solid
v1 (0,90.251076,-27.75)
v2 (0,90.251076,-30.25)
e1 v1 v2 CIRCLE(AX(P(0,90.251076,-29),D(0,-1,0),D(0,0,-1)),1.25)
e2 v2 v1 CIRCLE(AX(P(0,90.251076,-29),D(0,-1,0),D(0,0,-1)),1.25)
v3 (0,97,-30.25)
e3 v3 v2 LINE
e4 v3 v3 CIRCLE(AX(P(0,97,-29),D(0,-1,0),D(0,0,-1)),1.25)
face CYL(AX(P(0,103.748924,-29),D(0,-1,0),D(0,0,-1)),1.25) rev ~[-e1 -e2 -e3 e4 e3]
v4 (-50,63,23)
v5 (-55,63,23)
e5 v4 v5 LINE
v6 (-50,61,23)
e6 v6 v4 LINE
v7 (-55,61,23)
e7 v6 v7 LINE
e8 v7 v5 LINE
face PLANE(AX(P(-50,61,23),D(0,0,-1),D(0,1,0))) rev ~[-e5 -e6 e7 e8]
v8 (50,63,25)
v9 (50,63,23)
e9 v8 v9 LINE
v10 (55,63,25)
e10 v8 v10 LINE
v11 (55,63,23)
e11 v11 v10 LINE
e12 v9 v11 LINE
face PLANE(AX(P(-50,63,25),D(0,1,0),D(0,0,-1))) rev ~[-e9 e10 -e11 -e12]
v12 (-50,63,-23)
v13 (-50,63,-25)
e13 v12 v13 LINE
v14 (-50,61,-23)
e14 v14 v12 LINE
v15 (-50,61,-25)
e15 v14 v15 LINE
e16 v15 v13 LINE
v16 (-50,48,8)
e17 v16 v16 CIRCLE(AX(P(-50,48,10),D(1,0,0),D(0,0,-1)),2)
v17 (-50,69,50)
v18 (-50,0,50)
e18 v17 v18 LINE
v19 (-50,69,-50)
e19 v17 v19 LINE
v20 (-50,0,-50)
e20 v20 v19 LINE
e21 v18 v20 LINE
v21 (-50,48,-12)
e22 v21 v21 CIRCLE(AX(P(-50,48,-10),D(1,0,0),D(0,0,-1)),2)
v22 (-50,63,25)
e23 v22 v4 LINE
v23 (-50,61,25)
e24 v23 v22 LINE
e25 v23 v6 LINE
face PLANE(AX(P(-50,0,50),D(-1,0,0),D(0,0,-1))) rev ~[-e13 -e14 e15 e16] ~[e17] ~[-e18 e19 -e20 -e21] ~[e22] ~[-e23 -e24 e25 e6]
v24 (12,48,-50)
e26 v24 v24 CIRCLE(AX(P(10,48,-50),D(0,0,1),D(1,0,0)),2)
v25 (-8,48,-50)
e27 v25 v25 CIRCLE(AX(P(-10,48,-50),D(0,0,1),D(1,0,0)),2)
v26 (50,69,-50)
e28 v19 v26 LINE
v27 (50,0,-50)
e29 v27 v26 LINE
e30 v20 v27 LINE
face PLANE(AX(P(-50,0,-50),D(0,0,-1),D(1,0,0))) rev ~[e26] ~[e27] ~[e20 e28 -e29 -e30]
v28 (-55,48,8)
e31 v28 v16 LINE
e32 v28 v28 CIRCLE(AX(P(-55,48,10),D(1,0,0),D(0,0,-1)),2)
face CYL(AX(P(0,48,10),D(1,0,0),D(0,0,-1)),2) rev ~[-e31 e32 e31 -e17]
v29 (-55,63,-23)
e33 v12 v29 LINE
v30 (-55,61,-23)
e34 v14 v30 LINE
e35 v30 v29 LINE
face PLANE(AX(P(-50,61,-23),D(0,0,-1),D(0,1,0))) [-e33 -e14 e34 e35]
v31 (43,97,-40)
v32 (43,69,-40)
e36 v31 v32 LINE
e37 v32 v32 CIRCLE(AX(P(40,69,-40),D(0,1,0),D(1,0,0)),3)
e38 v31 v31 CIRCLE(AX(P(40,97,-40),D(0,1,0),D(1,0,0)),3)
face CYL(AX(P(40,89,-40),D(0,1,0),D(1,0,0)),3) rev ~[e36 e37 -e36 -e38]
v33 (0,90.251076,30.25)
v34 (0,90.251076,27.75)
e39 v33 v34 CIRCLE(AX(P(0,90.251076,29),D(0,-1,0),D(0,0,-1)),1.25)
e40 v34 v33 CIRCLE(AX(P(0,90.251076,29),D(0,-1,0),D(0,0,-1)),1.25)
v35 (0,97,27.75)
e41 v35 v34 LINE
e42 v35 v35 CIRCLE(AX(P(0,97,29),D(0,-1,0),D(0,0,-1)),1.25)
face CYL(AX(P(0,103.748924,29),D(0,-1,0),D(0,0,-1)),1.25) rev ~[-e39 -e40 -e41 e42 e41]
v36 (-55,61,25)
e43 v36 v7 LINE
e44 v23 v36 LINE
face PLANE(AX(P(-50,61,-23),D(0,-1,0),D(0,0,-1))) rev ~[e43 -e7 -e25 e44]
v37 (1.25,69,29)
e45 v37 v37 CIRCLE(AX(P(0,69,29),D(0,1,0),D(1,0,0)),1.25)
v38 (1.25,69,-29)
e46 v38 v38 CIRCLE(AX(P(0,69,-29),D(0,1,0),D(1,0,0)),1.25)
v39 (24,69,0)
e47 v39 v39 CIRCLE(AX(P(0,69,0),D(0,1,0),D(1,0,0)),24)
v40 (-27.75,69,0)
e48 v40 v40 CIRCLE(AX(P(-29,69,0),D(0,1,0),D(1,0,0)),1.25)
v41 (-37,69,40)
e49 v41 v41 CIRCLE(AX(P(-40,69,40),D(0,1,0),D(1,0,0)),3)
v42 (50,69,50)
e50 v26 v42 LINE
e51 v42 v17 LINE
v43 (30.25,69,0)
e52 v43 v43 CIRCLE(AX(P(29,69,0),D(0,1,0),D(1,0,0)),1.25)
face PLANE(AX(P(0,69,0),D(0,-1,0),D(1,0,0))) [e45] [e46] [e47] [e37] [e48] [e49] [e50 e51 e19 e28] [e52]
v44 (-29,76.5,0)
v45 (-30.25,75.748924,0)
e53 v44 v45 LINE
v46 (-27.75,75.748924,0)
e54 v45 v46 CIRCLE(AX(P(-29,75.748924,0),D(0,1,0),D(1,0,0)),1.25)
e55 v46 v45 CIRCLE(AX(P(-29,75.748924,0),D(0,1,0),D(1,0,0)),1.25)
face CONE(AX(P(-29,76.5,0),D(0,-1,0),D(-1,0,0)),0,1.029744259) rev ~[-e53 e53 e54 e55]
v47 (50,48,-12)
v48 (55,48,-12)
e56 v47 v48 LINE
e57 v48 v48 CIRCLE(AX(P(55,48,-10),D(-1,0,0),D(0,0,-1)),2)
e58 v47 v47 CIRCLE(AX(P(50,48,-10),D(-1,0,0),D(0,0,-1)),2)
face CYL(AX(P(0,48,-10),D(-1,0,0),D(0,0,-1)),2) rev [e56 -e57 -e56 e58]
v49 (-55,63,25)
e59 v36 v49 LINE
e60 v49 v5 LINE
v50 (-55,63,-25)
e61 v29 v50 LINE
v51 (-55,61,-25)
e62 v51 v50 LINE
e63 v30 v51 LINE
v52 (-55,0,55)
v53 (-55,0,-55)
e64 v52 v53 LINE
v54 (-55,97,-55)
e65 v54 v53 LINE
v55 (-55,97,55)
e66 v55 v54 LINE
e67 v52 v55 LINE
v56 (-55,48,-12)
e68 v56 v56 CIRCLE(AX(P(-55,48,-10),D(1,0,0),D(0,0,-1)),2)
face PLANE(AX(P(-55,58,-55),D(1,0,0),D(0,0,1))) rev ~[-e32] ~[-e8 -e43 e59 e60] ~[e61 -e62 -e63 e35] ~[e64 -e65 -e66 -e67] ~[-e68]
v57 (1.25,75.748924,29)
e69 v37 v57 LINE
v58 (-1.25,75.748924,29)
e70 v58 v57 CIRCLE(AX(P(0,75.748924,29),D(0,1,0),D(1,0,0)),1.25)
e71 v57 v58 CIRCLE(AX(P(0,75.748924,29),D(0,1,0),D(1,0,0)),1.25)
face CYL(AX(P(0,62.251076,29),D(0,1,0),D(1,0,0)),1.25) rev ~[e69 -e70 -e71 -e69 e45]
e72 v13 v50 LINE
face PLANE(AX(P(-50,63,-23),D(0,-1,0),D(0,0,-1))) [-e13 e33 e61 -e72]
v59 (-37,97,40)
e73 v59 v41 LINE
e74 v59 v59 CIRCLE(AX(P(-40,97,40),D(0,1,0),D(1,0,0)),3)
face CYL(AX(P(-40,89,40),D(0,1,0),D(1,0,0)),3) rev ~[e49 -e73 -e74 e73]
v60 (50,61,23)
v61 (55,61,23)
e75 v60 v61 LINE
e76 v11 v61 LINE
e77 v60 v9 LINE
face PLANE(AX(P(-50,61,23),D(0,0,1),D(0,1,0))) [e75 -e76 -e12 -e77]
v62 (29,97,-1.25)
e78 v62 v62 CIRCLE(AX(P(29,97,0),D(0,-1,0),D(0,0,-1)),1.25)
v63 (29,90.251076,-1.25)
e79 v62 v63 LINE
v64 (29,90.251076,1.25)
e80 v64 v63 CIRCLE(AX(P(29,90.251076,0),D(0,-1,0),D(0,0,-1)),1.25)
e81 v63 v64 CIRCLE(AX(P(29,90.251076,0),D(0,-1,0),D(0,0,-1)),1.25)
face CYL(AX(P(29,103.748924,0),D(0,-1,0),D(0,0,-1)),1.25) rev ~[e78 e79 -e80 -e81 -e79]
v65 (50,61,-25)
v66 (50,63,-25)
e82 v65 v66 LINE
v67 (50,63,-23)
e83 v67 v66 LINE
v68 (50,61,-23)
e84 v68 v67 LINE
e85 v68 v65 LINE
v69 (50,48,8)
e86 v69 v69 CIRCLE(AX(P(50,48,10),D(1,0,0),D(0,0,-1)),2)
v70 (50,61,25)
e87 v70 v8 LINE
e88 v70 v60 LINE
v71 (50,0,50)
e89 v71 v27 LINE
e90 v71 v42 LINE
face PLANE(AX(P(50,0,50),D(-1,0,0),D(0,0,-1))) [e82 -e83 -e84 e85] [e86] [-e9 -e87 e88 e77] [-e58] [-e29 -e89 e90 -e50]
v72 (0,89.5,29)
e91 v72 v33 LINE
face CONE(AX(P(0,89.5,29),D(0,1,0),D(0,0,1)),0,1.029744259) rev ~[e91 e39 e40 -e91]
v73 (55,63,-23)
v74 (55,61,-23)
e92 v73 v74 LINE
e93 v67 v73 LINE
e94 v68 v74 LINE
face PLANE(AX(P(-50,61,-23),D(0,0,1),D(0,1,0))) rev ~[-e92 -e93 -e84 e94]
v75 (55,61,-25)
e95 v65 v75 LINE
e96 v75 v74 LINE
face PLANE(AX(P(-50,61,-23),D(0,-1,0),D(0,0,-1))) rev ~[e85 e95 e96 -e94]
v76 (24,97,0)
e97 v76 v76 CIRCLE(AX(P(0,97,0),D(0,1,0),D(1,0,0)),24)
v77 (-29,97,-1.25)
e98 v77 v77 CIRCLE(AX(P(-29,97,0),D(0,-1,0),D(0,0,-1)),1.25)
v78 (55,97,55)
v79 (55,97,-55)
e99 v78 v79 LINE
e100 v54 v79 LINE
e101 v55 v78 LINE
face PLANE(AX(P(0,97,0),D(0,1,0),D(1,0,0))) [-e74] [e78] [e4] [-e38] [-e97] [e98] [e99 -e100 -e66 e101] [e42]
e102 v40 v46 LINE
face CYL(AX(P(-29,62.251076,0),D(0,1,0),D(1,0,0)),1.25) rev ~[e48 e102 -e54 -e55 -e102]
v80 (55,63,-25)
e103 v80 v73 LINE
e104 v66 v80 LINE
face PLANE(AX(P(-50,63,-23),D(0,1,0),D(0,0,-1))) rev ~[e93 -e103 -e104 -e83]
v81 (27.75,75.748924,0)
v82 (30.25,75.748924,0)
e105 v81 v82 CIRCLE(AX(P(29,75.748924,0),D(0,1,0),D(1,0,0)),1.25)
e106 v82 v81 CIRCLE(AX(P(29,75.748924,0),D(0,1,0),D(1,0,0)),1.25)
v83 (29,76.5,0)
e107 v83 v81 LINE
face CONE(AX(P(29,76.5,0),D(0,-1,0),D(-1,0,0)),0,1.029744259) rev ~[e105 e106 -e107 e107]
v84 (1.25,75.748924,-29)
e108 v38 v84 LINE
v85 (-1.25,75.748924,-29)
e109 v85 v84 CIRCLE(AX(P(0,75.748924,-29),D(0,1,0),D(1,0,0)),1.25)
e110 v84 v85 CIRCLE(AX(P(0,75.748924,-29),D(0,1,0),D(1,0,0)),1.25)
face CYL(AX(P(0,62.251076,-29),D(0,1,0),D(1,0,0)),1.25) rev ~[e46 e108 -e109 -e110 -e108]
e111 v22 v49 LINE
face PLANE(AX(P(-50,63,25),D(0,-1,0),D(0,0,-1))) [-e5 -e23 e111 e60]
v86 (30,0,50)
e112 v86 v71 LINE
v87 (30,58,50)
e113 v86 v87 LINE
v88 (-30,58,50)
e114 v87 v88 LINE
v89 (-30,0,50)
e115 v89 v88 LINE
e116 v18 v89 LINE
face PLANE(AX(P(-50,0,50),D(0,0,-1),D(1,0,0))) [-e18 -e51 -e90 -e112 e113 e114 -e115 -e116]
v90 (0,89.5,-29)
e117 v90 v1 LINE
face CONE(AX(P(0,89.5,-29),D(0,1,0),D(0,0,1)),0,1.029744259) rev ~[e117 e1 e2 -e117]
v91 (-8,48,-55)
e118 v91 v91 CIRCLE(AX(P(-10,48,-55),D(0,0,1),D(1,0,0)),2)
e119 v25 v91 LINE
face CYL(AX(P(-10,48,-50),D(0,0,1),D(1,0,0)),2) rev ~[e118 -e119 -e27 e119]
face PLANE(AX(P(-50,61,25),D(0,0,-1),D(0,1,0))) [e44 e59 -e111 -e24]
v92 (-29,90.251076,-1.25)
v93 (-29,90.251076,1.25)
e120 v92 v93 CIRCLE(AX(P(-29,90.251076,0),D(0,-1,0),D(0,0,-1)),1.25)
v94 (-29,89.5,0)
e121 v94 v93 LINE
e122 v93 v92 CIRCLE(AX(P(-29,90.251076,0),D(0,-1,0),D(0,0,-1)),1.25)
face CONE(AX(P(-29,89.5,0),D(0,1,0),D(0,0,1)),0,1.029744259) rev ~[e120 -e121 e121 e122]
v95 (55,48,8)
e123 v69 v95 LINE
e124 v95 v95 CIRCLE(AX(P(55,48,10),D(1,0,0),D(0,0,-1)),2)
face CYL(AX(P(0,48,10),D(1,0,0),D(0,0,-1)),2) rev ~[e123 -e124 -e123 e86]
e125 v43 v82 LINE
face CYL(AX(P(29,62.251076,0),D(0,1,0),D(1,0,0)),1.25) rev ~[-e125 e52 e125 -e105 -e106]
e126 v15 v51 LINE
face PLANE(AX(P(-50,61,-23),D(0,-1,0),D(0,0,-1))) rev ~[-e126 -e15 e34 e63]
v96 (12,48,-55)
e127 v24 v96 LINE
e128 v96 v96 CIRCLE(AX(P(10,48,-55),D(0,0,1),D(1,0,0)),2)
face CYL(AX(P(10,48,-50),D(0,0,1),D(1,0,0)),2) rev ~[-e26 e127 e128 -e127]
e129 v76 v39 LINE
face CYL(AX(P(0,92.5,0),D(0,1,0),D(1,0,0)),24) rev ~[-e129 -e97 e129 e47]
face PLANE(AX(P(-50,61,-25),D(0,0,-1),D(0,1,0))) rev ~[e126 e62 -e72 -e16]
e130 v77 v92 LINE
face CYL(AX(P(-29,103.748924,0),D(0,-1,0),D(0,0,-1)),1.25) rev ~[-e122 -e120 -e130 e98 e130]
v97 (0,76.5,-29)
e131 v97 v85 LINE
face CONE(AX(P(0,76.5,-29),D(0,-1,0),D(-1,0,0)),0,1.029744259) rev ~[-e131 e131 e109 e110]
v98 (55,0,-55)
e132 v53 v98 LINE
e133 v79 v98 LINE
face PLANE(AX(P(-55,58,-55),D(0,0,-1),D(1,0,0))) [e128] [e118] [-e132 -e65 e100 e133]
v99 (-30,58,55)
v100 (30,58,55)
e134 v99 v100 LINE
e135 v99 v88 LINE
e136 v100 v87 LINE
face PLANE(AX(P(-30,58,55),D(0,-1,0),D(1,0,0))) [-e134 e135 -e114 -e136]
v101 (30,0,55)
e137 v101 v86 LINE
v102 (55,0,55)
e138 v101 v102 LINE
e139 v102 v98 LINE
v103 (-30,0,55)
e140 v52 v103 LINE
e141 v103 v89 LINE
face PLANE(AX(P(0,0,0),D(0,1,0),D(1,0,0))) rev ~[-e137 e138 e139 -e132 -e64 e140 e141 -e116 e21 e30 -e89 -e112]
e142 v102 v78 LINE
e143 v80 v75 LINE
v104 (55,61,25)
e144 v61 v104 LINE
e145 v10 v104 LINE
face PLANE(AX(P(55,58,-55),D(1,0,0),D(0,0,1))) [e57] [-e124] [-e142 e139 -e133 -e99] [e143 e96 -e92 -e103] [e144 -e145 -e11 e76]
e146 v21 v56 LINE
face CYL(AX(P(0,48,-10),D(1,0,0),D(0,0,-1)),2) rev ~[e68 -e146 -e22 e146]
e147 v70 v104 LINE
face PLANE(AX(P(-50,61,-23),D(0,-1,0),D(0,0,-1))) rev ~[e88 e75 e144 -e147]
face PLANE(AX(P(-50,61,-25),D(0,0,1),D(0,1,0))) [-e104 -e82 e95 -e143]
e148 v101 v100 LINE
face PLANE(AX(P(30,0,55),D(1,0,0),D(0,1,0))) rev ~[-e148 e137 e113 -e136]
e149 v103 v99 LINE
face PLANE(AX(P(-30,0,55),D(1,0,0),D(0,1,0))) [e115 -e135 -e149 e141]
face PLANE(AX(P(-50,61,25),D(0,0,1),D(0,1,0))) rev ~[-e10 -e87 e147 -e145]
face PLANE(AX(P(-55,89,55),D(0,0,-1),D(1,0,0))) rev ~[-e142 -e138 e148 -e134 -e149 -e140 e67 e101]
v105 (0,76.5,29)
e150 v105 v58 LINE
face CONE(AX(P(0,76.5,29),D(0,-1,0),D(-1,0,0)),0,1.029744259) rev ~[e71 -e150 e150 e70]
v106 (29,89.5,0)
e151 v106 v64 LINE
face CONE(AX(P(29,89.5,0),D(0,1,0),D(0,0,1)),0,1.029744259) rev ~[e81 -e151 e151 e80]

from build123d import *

# Parameters (mm, degrees)
SKETCH2_W                = 110
SKETCH2_H                = 110
SKETCH2_W_2              = 100
SKETCH2_H_2              = 100
BOSS_EXTRUDE1_DEPTH      = 89
SKETCH3_W                = 110
SKETCH3_H                = 110
BOSS_EXTRUDE2_DEPTH      = 8
CUT_EXTRUDE1_REACH       = 112
SKETCH6_W                = 60
SKETCH6_H                = 58
SKETCH9_W                = 110
SKETCH9_H                = 110
BOSS_EXTRUDE3_DEPTH      = 3
CUT_EXTRUDE2_REACH       = 63
SKETCH10_R               = 7.5
BOSS_EXTRUDE4_DEPTH      = 1.5
BOSS_EXTRUDE5_DEPTH      = 1.5
SKETCH14_R               = 3
CUT_EXTRUDE3_DEPTH       = 73
SKETCH15_W               = 2
SKETCH15_H               = 2
CUT_EXTRUDE4_DEPTH       = 113
CUT_EXTRUDE4_DEPTH_BACK  = 13
CUT_EXTRUDE5_REACH       = 63
SKETCH16_R               = 2.5
SKETCH17_R               = 14
SKETCH17_R_2             = 11
BOSS_EXTRUDE6_DEPTH      = 7
CUT_EXTRUDE8_REACH       = 7
SKETCH20_R               = 2
SKETCH18_R               = 2
CUT_EXTRUDE6_DEPTH       = 73.5
CUT_EXTRUDE7_REACH       = 63
SKETCH19_R               = 2
SKETCH21_R               = 24
SKETCH21_R_2             = 21
BOSS_EXTRUDE7_DEPTH      = 5
CUT_EXTRUDE9_REACH       = 46
SKETCH23_W               = 100
SKETCH23_H               = 100
SKETCH24_W               = 100
SKETCH24_H               = 100
BOSS_EXTRUDE8_DEPTH      = 20
SKETCH25_R               = 24
CUT_EXTRUDE10_DEPTH      = 10
CUT_EXTRUDE10_DEPTH_BACK = 26
SKETCH26_R               = 3
CUT_EXTRUDE11_DEPTH      = 26
M3_TAPPED_HOLE1_D        = 2.5
M3_TAPPED_HOLE1_DEPTH    = 6.748924226
M3_TAPPED_HOLE1_TIP      = 0.751075774
M3_TAPPED_HOLE2_D        = 2.5
M3_TAPPED_HOLE2_DEPTH    = 6.748924226
M3_TAPPED_HOLE2_TIP      = 0.751075774


with BuildPart() as part:
    # Sketch2 → Boss-Extrude1 (new body)
    with BuildSketch(Plane(origin=(0, 0, 0), x_dir=(1, 0, 0), z_dir=(0, 1, 0))):
        Rectangle(SKETCH2_W, SKETCH2_H)
        Rectangle(SKETCH2_W_2, SKETCH2_H_2, mode=Mode.SUBTRACT)
    extrude(amount=BOSS_EXTRUDE1_DEPTH)

    # Sketch3 → Boss-Extrude2 (add)
    with BuildSketch(Plane(origin=(0, 89, 0), x_dir=(1, 0, 0), z_dir=(0, 1, 0))):
        Rectangle(SKETCH3_W, SKETCH3_H)
    extrude(amount=BOSS_EXTRUDE2_DEPTH)

    # Sketch6 → Cut-Extrude1 (cut, up to next)
    with BuildSketch(Plane.XY.offset(55), mode=Mode.PRIVATE) as cut_extrude1_sk1:
        with Locations((0, 29)):
            Rectangle(SKETCH6_W, SKETCH6_H)
    cut_extrude1_tool1 = extrude(cut_extrude1_sk1.sketch, amount=-CUT_EXTRUDE1_REACH, mode=Mode.PRIVATE) & part.part
    add(cut_extrude1_tool1.solids().sort_by_distance((0, 29, 55))[0], mode=Mode.SUBTRACT)

    # Sketch8 → Cut-Revolve1 (revolve, cut)
    with BuildSketch(Plane.XY):
        Polygon((0, 97), (-21, 97), (-21, 92.5), (-16.2, 92.5), (-16.2, 88.5), (0, 88.5), align=None)
    revolve(axis=Axis((0, 0, 0), (0, 1, 0)), mode=Mode.SUBTRACT)

    # Sketch9 → Boss-Extrude3 (add)
    with BuildSketch(Plane.XZ.offset(-58)):
        Rectangle(SKETCH9_W, SKETCH9_H)
    extrude(amount=-BOSS_EXTRUDE3_DEPTH)

    # Sketch10 → Cut-Extrude2 (cut, up to next)
    with BuildSketch(Plane(origin=(0, 61, 0), x_dir=(1, 0, 0), z_dir=(0, 1, 0)), mode=Mode.PRIVATE) as cut_extrude2_sk1:
        Circle(SKETCH10_R)
    cut_extrude2_tool1 = extrude(cut_extrude2_sk1.sketch, amount=-CUT_EXTRUDE2_REACH, mode=Mode.PRIVATE) & part.part
    add(cut_extrude2_tool1.solids().sort_by_distance((0, 61, 0))[0], mode=Mode.SUBTRACT)

    # Sketch11 → Boss-Extrude4 (add, symmetric)
    with BuildSketch(Plane.XY):
        Polygon((-50, 89), (-35, 89), (-50, 69), align=None)
    boss_extrude4 = extrude(amount=BOSS_EXTRUDE4_DEPTH, both=True)

    # Mirror1: Boss-Extrude4 across plane
    add(boss_extrude4.mirror(Plane(origin=(0, 0, 0), x_dir=(0, 0, 1), z_dir=(1, 0, 0))))

    # Sketch12 → Boss-Extrude5 (add, symmetric)
    with BuildSketch(Plane(origin=(0, 0, 0), x_dir=(0, 0, -1), z_dir=(1, 0, 0))):
        Polygon((-35, 89), (-50, 89), (-50, 69), align=None)
    boss_extrude5 = extrude(amount=BOSS_EXTRUDE5_DEPTH, both=True)

    # Mirror2: Boss-Extrude5 across plane
    add(boss_extrude5.mirror(Plane.XY))

    # Sketch14 → Cut-Extrude3 (cut)
    with BuildSketch(Plane(origin=(0, 97, 0), x_dir=(1, 0, 0), z_dir=(0, 1, 0))):
        with Locations((40, 40)):
            Circle(SKETCH14_R)
        with Locations((-40, -40)):
            Circle(SKETCH14_R)
    extrude(amount=-CUT_EXTRUDE3_DEPTH, mode=Mode.SUBTRACT)

    # Sketch15 → Cut-Extrude4 (cut, two sides)
    with BuildSketch(Plane(origin=(-50, 0, 0), x_dir=(0, 0, -1), z_dir=(1, 0, 0))) as cut_extrude4_sk:
        with Locations((-24, 62)):
            Rectangle(SKETCH15_W, SKETCH15_H)
        with Locations((24, 62)):
            Rectangle(SKETCH15_W, SKETCH15_H)
    extrude(amount=CUT_EXTRUDE4_DEPTH, mode=Mode.SUBTRACT)
    extrude(cut_extrude4_sk.sketch, amount=-CUT_EXTRUDE4_DEPTH_BACK, mode=Mode.SUBTRACT)

    # Sketch16 → Cut-Extrude5 (cut, up to next)
    with BuildSketch(Plane(origin=(0, 61, 0), x_dir=(1, 0, 0), z_dir=(0, 1, 0)), mode=Mode.PRIVATE) as cut_extrude5_sk1:
        with Locations((-13.5, 13.5)):
            Circle(SKETCH16_R)
    cut_extrude5_tool1 = extrude(cut_extrude5_sk1.sketch, amount=-CUT_EXTRUDE5_REACH, mode=Mode.PRIVATE) & part.part
    add(cut_extrude5_tool1.solids().sort_by_distance((-13.5, 61, -13.5))[0], mode=Mode.SUBTRACT)
    # Sketch16 → Cut-Extrude5 (cut, up to next)
    with BuildSketch(Plane(origin=(0, 61, 0), x_dir=(1, 0, 0), z_dir=(0, 1, 0)), mode=Mode.PRIVATE) as cut_extrude5_sk2:
        with Locations((-13.5, -36)):
            Circle(SKETCH16_R)
    cut_extrude5_tool2 = extrude(cut_extrude5_sk2.sketch, amount=-CUT_EXTRUDE5_REACH, mode=Mode.PRIVATE) & part.part
    add(cut_extrude5_tool2.solids().sort_by_distance((-13.5, 61, 36))[0], mode=Mode.SUBTRACT)
    # Sketch16 → Cut-Extrude5 (cut, up to next)
    with BuildSketch(Plane(origin=(0, 61, 0), x_dir=(1, 0, 0), z_dir=(0, 1, 0)), mode=Mode.PRIVATE) as cut_extrude5_sk3:
        with Locations((13.5, -36)):
            Circle(SKETCH16_R)
    cut_extrude5_tool3 = extrude(cut_extrude5_sk3.sketch, amount=-CUT_EXTRUDE5_REACH, mode=Mode.PRIVATE) & part.part
    add(cut_extrude5_tool3.solids().sort_by_distance((13.5, 61, 36))[0], mode=Mode.SUBTRACT)
    # Sketch16 → Cut-Extrude5 (cut, up to next)
    with BuildSketch(Plane(origin=(0, 61, 0), x_dir=(1, 0, 0), z_dir=(0, 1, 0)), mode=Mode.PRIVATE) as cut_extrude5_sk4:
        with Locations((13.5, 13.5)):
            Circle(SKETCH16_R)
    cut_extrude5_tool4 = extrude(cut_extrude5_sk4.sketch, amount=-CUT_EXTRUDE5_REACH, mode=Mode.PRIVATE) & part.part
    add(cut_extrude5_tool4.solids().sort_by_distance((13.5, 61, -13.5))[0], mode=Mode.SUBTRACT)

    # Sketch17 → Boss-Extrude6 (add)
    with BuildSketch(Plane(origin=(0, 61, 0), x_dir=(1, 0, 0), z_dir=(0, 1, 0))):
        Circle(SKETCH17_R)
        Circle(SKETCH17_R_2, mode=Mode.SUBTRACT)
    extrude(amount=BOSS_EXTRUDE6_DEPTH)

    # Sketch20 → Cut-Extrude8 (cut, up to next)
    with BuildSketch(Plane.XY.offset(-50), mode=Mode.PRIVATE) as cut_extrude8_sk1:
        with Locations((10, 48)):
            Circle(SKETCH20_R)
    cut_extrude8_tool1 = extrude(cut_extrude8_sk1.sketch, amount=-CUT_EXTRUDE8_REACH, mode=Mode.PRIVATE) & part.part
    add(cut_extrude8_tool1.solids().sort_by_distance((10, 48, -50))[0], mode=Mode.SUBTRACT)
    # Sketch20 → Cut-Extrude8 (cut, up to next)
    with BuildSketch(Plane.XY.offset(-50), mode=Mode.PRIVATE) as cut_extrude8_sk2:
        with Locations((-10, 48)):
            Circle(SKETCH20_R)
    cut_extrude8_tool2 = extrude(cut_extrude8_sk2.sketch, amount=-CUT_EXTRUDE8_REACH, mode=Mode.PRIVATE) & part.part
    add(cut_extrude8_tool2.solids().sort_by_distance((-10, 48, -50))[0], mode=Mode.SUBTRACT)

    # Sketch18 → Cut-Extrude6 (cut, symmetric)
    with BuildSketch(Plane(origin=(0, 0, 0), x_dir=(0, 0, -1), z_dir=(1, 0, 0))):
        with Locations((10, 48)):
            Circle(SKETCH18_R)
        with Locations((-10, 48)):
            Circle(SKETCH18_R)
    extrude(amount=CUT_EXTRUDE6_DEPTH, both=True, mode=Mode.SUBTRACT)

    # Sketch19 → Cut-Extrude7 (cut, up to next)
    with BuildSketch(Plane(origin=(0, 61, 0), x_dir=(1, 0, 0), z_dir=(0, 1, 0)), mode=Mode.PRIVATE) as cut_extrude7_sk1:
        with Locations((40, 10)):
            Circle(SKETCH19_R)
    cut_extrude7_tool1 = extrude(cut_extrude7_sk1.sketch, amount=-CUT_EXTRUDE7_REACH, mode=Mode.PRIVATE) & part.part
    add(cut_extrude7_tool1.solids().sort_by_distance((40, 61, -10))[0], mode=Mode.SUBTRACT)
    # Sketch19 → Cut-Extrude7 (cut, up to next)
    with BuildSketch(Plane(origin=(0, 61, 0), x_dir=(1, 0, 0), z_dir=(0, 1, 0)), mode=Mode.PRIVATE) as cut_extrude7_sk2:
        with Locations((40, -10)):
            Circle(SKETCH19_R)
    cut_extrude7_tool2 = extrude(cut_extrude7_sk2.sketch, amount=-CUT_EXTRUDE7_REACH, mode=Mode.PRIVATE) & part.part
    add(cut_extrude7_tool2.solids().sort_by_distance((40, 61, 10))[0], mode=Mode.SUBTRACT)
    # Sketch19 → Cut-Extrude7 (cut, up to next)
    with BuildSketch(Plane(origin=(0, 61, 0), x_dir=(1, 0, 0), z_dir=(0, 1, 0)), mode=Mode.PRIVATE) as cut_extrude7_sk3:
        with Locations((-40, -10)):
            Circle(SKETCH19_R)
    cut_extrude7_tool3 = extrude(cut_extrude7_sk3.sketch, amount=-CUT_EXTRUDE7_REACH, mode=Mode.PRIVATE) & part.part
    add(cut_extrude7_tool3.solids().sort_by_distance((-40, 61, 10))[0], mode=Mode.SUBTRACT)
    # Sketch19 → Cut-Extrude7 (cut, up to next)
    with BuildSketch(Plane(origin=(0, 61, 0), x_dir=(1, 0, 0), z_dir=(0, 1, 0)), mode=Mode.PRIVATE) as cut_extrude7_sk4:
        with Locations((-40, 10)):
            Circle(SKETCH19_R)
    cut_extrude7_tool4 = extrude(cut_extrude7_sk4.sketch, amount=-CUT_EXTRUDE7_REACH, mode=Mode.PRIVATE) & part.part
    add(cut_extrude7_tool4.solids().sort_by_distance((-40, 61, -10))[0], mode=Mode.SUBTRACT)
    # Sketch19 → Cut-Extrude7 (cut, up to next)
    with BuildSketch(Plane(origin=(0, 61, 0), x_dir=(1, 0, 0), z_dir=(0, 1, 0)), mode=Mode.PRIVATE) as cut_extrude7_sk5:
        with Locations((10, 40)):
            Circle(SKETCH19_R)
    cut_extrude7_tool5 = extrude(cut_extrude7_sk5.sketch, amount=-CUT_EXTRUDE7_REACH, mode=Mode.PRIVATE) & part.part
    add(cut_extrude7_tool5.solids().sort_by_distance((10, 61, -40))[0], mode=Mode.SUBTRACT)
    # Sketch19 → Cut-Extrude7 (cut, up to next)
    with BuildSketch(Plane(origin=(0, 61, 0), x_dir=(1, 0, 0), z_dir=(0, 1, 0)), mode=Mode.PRIVATE) as cut_extrude7_sk6:
        with Locations((-10, 40)):
            Circle(SKETCH19_R)
    cut_extrude7_tool6 = extrude(cut_extrude7_sk6.sketch, amount=-CUT_EXTRUDE7_REACH, mode=Mode.PRIVATE) & part.part
    add(cut_extrude7_tool6.solids().sort_by_distance((-10, 61, -40))[0], mode=Mode.SUBTRACT)

    # Sketch21 → Boss-Extrude7 (add)
    with BuildSketch(Plane(origin=(0, 97, 0), x_dir=(1, 0, 0), z_dir=(0, 1, 0))):
        Circle(SKETCH21_R)
        Circle(SKETCH21_R_2, mode=Mode.SUBTRACT)
    extrude(amount=BOSS_EXTRUDE7_DEPTH)

    # Sketch23 → Cut-Extrude9 (cut, up to next)
    with BuildSketch(Plane.XZ.offset(-58), mode=Mode.PRIVATE) as cut_extrude9_sk1:
        Rectangle(SKETCH23_W, SKETCH23_H)
    cut_extrude9_tool1 = extrude(cut_extrude9_sk1.sketch, amount=-CUT_EXTRUDE9_REACH, mode=Mode.PRIVATE) & part.part
    add(cut_extrude9_tool1.solids().sort_by_distance((0, 58, 0))[0], mode=Mode.SUBTRACT)

    # Sketch24 → Boss-Extrude8 (add)
    with BuildSketch(Plane.XZ.offset(-89)):
        Rectangle(SKETCH24_W, SKETCH24_H)
    extrude(amount=BOSS_EXTRUDE8_DEPTH)

    # Sketch25 → Cut-Extrude10 (cut, two sides)
    with BuildSketch(Plane(origin=(0, 92.5, 0), x_dir=(1, 0, 0), z_dir=(0, 1, 0))) as cut_extrude10_sk:
        Circle(SKETCH25_R)
    extrude(amount=CUT_EXTRUDE10_DEPTH, mode=Mode.SUBTRACT)
    extrude(cut_extrude10_sk.sketch, amount=-CUT_EXTRUDE10_DEPTH_BACK, mode=Mode.SUBTRACT)

    # Sketch26 → Cut-Extrude11 (cut)
    with BuildSketch(Plane(origin=(0, 89, 0), x_dir=(1, 0, 0), z_dir=(0, 1, 0))):
        with Locations((-40, -40)):
            Circle(SKETCH26_R)
        with Locations((40, 40)):
            Circle(SKETCH26_R)
    extrude(amount=-CUT_EXTRUDE11_DEPTH, mode=Mode.SUBTRACT)

    # M3 Tapped Hole1
    with Locations(Plane(origin=(-29, 97, 0), x_dir=(0, 0, 1), z_dir=(0, 1, 0))):
        with Locations((0, 0), (29, 29), (0, 58), (-29, 29)):
            Hole(M3_TAPPED_HOLE1_D / 2, depth=M3_TAPPED_HOLE1_DEPTH)
            with Locations((0, 0, -(M3_TAPPED_HOLE1_DEPTH + M3_TAPPED_HOLE1_TIP / 2))):  # 118° drill point
                Cone(0, M3_TAPPED_HOLE1_D / 2, M3_TAPPED_HOLE1_TIP, mode=Mode.SUBTRACT)

    # M3 Tapped Hole2
    with Locations(Plane(origin=(0, 69, 0), x_dir=(-1, 0, 0), z_dir=(0, -1, 0))):
        with Locations((0, -29), (29, 0), (0, 29), (-29, 0)):
            Hole(M3_TAPPED_HOLE2_D / 2, depth=M3_TAPPED_HOLE2_DEPTH)
            with Locations((0, 0, -(M3_TAPPED_HOLE2_DEPTH + M3_TAPPED_HOLE2_TIP / 2))):  # 118° drill point
                Cone(0, M3_TAPPED_HOLE2_D / 2, M3_TAPPED_HOLE2_TIP, mode=Mode.SUBTRACT)


solid = part.part
